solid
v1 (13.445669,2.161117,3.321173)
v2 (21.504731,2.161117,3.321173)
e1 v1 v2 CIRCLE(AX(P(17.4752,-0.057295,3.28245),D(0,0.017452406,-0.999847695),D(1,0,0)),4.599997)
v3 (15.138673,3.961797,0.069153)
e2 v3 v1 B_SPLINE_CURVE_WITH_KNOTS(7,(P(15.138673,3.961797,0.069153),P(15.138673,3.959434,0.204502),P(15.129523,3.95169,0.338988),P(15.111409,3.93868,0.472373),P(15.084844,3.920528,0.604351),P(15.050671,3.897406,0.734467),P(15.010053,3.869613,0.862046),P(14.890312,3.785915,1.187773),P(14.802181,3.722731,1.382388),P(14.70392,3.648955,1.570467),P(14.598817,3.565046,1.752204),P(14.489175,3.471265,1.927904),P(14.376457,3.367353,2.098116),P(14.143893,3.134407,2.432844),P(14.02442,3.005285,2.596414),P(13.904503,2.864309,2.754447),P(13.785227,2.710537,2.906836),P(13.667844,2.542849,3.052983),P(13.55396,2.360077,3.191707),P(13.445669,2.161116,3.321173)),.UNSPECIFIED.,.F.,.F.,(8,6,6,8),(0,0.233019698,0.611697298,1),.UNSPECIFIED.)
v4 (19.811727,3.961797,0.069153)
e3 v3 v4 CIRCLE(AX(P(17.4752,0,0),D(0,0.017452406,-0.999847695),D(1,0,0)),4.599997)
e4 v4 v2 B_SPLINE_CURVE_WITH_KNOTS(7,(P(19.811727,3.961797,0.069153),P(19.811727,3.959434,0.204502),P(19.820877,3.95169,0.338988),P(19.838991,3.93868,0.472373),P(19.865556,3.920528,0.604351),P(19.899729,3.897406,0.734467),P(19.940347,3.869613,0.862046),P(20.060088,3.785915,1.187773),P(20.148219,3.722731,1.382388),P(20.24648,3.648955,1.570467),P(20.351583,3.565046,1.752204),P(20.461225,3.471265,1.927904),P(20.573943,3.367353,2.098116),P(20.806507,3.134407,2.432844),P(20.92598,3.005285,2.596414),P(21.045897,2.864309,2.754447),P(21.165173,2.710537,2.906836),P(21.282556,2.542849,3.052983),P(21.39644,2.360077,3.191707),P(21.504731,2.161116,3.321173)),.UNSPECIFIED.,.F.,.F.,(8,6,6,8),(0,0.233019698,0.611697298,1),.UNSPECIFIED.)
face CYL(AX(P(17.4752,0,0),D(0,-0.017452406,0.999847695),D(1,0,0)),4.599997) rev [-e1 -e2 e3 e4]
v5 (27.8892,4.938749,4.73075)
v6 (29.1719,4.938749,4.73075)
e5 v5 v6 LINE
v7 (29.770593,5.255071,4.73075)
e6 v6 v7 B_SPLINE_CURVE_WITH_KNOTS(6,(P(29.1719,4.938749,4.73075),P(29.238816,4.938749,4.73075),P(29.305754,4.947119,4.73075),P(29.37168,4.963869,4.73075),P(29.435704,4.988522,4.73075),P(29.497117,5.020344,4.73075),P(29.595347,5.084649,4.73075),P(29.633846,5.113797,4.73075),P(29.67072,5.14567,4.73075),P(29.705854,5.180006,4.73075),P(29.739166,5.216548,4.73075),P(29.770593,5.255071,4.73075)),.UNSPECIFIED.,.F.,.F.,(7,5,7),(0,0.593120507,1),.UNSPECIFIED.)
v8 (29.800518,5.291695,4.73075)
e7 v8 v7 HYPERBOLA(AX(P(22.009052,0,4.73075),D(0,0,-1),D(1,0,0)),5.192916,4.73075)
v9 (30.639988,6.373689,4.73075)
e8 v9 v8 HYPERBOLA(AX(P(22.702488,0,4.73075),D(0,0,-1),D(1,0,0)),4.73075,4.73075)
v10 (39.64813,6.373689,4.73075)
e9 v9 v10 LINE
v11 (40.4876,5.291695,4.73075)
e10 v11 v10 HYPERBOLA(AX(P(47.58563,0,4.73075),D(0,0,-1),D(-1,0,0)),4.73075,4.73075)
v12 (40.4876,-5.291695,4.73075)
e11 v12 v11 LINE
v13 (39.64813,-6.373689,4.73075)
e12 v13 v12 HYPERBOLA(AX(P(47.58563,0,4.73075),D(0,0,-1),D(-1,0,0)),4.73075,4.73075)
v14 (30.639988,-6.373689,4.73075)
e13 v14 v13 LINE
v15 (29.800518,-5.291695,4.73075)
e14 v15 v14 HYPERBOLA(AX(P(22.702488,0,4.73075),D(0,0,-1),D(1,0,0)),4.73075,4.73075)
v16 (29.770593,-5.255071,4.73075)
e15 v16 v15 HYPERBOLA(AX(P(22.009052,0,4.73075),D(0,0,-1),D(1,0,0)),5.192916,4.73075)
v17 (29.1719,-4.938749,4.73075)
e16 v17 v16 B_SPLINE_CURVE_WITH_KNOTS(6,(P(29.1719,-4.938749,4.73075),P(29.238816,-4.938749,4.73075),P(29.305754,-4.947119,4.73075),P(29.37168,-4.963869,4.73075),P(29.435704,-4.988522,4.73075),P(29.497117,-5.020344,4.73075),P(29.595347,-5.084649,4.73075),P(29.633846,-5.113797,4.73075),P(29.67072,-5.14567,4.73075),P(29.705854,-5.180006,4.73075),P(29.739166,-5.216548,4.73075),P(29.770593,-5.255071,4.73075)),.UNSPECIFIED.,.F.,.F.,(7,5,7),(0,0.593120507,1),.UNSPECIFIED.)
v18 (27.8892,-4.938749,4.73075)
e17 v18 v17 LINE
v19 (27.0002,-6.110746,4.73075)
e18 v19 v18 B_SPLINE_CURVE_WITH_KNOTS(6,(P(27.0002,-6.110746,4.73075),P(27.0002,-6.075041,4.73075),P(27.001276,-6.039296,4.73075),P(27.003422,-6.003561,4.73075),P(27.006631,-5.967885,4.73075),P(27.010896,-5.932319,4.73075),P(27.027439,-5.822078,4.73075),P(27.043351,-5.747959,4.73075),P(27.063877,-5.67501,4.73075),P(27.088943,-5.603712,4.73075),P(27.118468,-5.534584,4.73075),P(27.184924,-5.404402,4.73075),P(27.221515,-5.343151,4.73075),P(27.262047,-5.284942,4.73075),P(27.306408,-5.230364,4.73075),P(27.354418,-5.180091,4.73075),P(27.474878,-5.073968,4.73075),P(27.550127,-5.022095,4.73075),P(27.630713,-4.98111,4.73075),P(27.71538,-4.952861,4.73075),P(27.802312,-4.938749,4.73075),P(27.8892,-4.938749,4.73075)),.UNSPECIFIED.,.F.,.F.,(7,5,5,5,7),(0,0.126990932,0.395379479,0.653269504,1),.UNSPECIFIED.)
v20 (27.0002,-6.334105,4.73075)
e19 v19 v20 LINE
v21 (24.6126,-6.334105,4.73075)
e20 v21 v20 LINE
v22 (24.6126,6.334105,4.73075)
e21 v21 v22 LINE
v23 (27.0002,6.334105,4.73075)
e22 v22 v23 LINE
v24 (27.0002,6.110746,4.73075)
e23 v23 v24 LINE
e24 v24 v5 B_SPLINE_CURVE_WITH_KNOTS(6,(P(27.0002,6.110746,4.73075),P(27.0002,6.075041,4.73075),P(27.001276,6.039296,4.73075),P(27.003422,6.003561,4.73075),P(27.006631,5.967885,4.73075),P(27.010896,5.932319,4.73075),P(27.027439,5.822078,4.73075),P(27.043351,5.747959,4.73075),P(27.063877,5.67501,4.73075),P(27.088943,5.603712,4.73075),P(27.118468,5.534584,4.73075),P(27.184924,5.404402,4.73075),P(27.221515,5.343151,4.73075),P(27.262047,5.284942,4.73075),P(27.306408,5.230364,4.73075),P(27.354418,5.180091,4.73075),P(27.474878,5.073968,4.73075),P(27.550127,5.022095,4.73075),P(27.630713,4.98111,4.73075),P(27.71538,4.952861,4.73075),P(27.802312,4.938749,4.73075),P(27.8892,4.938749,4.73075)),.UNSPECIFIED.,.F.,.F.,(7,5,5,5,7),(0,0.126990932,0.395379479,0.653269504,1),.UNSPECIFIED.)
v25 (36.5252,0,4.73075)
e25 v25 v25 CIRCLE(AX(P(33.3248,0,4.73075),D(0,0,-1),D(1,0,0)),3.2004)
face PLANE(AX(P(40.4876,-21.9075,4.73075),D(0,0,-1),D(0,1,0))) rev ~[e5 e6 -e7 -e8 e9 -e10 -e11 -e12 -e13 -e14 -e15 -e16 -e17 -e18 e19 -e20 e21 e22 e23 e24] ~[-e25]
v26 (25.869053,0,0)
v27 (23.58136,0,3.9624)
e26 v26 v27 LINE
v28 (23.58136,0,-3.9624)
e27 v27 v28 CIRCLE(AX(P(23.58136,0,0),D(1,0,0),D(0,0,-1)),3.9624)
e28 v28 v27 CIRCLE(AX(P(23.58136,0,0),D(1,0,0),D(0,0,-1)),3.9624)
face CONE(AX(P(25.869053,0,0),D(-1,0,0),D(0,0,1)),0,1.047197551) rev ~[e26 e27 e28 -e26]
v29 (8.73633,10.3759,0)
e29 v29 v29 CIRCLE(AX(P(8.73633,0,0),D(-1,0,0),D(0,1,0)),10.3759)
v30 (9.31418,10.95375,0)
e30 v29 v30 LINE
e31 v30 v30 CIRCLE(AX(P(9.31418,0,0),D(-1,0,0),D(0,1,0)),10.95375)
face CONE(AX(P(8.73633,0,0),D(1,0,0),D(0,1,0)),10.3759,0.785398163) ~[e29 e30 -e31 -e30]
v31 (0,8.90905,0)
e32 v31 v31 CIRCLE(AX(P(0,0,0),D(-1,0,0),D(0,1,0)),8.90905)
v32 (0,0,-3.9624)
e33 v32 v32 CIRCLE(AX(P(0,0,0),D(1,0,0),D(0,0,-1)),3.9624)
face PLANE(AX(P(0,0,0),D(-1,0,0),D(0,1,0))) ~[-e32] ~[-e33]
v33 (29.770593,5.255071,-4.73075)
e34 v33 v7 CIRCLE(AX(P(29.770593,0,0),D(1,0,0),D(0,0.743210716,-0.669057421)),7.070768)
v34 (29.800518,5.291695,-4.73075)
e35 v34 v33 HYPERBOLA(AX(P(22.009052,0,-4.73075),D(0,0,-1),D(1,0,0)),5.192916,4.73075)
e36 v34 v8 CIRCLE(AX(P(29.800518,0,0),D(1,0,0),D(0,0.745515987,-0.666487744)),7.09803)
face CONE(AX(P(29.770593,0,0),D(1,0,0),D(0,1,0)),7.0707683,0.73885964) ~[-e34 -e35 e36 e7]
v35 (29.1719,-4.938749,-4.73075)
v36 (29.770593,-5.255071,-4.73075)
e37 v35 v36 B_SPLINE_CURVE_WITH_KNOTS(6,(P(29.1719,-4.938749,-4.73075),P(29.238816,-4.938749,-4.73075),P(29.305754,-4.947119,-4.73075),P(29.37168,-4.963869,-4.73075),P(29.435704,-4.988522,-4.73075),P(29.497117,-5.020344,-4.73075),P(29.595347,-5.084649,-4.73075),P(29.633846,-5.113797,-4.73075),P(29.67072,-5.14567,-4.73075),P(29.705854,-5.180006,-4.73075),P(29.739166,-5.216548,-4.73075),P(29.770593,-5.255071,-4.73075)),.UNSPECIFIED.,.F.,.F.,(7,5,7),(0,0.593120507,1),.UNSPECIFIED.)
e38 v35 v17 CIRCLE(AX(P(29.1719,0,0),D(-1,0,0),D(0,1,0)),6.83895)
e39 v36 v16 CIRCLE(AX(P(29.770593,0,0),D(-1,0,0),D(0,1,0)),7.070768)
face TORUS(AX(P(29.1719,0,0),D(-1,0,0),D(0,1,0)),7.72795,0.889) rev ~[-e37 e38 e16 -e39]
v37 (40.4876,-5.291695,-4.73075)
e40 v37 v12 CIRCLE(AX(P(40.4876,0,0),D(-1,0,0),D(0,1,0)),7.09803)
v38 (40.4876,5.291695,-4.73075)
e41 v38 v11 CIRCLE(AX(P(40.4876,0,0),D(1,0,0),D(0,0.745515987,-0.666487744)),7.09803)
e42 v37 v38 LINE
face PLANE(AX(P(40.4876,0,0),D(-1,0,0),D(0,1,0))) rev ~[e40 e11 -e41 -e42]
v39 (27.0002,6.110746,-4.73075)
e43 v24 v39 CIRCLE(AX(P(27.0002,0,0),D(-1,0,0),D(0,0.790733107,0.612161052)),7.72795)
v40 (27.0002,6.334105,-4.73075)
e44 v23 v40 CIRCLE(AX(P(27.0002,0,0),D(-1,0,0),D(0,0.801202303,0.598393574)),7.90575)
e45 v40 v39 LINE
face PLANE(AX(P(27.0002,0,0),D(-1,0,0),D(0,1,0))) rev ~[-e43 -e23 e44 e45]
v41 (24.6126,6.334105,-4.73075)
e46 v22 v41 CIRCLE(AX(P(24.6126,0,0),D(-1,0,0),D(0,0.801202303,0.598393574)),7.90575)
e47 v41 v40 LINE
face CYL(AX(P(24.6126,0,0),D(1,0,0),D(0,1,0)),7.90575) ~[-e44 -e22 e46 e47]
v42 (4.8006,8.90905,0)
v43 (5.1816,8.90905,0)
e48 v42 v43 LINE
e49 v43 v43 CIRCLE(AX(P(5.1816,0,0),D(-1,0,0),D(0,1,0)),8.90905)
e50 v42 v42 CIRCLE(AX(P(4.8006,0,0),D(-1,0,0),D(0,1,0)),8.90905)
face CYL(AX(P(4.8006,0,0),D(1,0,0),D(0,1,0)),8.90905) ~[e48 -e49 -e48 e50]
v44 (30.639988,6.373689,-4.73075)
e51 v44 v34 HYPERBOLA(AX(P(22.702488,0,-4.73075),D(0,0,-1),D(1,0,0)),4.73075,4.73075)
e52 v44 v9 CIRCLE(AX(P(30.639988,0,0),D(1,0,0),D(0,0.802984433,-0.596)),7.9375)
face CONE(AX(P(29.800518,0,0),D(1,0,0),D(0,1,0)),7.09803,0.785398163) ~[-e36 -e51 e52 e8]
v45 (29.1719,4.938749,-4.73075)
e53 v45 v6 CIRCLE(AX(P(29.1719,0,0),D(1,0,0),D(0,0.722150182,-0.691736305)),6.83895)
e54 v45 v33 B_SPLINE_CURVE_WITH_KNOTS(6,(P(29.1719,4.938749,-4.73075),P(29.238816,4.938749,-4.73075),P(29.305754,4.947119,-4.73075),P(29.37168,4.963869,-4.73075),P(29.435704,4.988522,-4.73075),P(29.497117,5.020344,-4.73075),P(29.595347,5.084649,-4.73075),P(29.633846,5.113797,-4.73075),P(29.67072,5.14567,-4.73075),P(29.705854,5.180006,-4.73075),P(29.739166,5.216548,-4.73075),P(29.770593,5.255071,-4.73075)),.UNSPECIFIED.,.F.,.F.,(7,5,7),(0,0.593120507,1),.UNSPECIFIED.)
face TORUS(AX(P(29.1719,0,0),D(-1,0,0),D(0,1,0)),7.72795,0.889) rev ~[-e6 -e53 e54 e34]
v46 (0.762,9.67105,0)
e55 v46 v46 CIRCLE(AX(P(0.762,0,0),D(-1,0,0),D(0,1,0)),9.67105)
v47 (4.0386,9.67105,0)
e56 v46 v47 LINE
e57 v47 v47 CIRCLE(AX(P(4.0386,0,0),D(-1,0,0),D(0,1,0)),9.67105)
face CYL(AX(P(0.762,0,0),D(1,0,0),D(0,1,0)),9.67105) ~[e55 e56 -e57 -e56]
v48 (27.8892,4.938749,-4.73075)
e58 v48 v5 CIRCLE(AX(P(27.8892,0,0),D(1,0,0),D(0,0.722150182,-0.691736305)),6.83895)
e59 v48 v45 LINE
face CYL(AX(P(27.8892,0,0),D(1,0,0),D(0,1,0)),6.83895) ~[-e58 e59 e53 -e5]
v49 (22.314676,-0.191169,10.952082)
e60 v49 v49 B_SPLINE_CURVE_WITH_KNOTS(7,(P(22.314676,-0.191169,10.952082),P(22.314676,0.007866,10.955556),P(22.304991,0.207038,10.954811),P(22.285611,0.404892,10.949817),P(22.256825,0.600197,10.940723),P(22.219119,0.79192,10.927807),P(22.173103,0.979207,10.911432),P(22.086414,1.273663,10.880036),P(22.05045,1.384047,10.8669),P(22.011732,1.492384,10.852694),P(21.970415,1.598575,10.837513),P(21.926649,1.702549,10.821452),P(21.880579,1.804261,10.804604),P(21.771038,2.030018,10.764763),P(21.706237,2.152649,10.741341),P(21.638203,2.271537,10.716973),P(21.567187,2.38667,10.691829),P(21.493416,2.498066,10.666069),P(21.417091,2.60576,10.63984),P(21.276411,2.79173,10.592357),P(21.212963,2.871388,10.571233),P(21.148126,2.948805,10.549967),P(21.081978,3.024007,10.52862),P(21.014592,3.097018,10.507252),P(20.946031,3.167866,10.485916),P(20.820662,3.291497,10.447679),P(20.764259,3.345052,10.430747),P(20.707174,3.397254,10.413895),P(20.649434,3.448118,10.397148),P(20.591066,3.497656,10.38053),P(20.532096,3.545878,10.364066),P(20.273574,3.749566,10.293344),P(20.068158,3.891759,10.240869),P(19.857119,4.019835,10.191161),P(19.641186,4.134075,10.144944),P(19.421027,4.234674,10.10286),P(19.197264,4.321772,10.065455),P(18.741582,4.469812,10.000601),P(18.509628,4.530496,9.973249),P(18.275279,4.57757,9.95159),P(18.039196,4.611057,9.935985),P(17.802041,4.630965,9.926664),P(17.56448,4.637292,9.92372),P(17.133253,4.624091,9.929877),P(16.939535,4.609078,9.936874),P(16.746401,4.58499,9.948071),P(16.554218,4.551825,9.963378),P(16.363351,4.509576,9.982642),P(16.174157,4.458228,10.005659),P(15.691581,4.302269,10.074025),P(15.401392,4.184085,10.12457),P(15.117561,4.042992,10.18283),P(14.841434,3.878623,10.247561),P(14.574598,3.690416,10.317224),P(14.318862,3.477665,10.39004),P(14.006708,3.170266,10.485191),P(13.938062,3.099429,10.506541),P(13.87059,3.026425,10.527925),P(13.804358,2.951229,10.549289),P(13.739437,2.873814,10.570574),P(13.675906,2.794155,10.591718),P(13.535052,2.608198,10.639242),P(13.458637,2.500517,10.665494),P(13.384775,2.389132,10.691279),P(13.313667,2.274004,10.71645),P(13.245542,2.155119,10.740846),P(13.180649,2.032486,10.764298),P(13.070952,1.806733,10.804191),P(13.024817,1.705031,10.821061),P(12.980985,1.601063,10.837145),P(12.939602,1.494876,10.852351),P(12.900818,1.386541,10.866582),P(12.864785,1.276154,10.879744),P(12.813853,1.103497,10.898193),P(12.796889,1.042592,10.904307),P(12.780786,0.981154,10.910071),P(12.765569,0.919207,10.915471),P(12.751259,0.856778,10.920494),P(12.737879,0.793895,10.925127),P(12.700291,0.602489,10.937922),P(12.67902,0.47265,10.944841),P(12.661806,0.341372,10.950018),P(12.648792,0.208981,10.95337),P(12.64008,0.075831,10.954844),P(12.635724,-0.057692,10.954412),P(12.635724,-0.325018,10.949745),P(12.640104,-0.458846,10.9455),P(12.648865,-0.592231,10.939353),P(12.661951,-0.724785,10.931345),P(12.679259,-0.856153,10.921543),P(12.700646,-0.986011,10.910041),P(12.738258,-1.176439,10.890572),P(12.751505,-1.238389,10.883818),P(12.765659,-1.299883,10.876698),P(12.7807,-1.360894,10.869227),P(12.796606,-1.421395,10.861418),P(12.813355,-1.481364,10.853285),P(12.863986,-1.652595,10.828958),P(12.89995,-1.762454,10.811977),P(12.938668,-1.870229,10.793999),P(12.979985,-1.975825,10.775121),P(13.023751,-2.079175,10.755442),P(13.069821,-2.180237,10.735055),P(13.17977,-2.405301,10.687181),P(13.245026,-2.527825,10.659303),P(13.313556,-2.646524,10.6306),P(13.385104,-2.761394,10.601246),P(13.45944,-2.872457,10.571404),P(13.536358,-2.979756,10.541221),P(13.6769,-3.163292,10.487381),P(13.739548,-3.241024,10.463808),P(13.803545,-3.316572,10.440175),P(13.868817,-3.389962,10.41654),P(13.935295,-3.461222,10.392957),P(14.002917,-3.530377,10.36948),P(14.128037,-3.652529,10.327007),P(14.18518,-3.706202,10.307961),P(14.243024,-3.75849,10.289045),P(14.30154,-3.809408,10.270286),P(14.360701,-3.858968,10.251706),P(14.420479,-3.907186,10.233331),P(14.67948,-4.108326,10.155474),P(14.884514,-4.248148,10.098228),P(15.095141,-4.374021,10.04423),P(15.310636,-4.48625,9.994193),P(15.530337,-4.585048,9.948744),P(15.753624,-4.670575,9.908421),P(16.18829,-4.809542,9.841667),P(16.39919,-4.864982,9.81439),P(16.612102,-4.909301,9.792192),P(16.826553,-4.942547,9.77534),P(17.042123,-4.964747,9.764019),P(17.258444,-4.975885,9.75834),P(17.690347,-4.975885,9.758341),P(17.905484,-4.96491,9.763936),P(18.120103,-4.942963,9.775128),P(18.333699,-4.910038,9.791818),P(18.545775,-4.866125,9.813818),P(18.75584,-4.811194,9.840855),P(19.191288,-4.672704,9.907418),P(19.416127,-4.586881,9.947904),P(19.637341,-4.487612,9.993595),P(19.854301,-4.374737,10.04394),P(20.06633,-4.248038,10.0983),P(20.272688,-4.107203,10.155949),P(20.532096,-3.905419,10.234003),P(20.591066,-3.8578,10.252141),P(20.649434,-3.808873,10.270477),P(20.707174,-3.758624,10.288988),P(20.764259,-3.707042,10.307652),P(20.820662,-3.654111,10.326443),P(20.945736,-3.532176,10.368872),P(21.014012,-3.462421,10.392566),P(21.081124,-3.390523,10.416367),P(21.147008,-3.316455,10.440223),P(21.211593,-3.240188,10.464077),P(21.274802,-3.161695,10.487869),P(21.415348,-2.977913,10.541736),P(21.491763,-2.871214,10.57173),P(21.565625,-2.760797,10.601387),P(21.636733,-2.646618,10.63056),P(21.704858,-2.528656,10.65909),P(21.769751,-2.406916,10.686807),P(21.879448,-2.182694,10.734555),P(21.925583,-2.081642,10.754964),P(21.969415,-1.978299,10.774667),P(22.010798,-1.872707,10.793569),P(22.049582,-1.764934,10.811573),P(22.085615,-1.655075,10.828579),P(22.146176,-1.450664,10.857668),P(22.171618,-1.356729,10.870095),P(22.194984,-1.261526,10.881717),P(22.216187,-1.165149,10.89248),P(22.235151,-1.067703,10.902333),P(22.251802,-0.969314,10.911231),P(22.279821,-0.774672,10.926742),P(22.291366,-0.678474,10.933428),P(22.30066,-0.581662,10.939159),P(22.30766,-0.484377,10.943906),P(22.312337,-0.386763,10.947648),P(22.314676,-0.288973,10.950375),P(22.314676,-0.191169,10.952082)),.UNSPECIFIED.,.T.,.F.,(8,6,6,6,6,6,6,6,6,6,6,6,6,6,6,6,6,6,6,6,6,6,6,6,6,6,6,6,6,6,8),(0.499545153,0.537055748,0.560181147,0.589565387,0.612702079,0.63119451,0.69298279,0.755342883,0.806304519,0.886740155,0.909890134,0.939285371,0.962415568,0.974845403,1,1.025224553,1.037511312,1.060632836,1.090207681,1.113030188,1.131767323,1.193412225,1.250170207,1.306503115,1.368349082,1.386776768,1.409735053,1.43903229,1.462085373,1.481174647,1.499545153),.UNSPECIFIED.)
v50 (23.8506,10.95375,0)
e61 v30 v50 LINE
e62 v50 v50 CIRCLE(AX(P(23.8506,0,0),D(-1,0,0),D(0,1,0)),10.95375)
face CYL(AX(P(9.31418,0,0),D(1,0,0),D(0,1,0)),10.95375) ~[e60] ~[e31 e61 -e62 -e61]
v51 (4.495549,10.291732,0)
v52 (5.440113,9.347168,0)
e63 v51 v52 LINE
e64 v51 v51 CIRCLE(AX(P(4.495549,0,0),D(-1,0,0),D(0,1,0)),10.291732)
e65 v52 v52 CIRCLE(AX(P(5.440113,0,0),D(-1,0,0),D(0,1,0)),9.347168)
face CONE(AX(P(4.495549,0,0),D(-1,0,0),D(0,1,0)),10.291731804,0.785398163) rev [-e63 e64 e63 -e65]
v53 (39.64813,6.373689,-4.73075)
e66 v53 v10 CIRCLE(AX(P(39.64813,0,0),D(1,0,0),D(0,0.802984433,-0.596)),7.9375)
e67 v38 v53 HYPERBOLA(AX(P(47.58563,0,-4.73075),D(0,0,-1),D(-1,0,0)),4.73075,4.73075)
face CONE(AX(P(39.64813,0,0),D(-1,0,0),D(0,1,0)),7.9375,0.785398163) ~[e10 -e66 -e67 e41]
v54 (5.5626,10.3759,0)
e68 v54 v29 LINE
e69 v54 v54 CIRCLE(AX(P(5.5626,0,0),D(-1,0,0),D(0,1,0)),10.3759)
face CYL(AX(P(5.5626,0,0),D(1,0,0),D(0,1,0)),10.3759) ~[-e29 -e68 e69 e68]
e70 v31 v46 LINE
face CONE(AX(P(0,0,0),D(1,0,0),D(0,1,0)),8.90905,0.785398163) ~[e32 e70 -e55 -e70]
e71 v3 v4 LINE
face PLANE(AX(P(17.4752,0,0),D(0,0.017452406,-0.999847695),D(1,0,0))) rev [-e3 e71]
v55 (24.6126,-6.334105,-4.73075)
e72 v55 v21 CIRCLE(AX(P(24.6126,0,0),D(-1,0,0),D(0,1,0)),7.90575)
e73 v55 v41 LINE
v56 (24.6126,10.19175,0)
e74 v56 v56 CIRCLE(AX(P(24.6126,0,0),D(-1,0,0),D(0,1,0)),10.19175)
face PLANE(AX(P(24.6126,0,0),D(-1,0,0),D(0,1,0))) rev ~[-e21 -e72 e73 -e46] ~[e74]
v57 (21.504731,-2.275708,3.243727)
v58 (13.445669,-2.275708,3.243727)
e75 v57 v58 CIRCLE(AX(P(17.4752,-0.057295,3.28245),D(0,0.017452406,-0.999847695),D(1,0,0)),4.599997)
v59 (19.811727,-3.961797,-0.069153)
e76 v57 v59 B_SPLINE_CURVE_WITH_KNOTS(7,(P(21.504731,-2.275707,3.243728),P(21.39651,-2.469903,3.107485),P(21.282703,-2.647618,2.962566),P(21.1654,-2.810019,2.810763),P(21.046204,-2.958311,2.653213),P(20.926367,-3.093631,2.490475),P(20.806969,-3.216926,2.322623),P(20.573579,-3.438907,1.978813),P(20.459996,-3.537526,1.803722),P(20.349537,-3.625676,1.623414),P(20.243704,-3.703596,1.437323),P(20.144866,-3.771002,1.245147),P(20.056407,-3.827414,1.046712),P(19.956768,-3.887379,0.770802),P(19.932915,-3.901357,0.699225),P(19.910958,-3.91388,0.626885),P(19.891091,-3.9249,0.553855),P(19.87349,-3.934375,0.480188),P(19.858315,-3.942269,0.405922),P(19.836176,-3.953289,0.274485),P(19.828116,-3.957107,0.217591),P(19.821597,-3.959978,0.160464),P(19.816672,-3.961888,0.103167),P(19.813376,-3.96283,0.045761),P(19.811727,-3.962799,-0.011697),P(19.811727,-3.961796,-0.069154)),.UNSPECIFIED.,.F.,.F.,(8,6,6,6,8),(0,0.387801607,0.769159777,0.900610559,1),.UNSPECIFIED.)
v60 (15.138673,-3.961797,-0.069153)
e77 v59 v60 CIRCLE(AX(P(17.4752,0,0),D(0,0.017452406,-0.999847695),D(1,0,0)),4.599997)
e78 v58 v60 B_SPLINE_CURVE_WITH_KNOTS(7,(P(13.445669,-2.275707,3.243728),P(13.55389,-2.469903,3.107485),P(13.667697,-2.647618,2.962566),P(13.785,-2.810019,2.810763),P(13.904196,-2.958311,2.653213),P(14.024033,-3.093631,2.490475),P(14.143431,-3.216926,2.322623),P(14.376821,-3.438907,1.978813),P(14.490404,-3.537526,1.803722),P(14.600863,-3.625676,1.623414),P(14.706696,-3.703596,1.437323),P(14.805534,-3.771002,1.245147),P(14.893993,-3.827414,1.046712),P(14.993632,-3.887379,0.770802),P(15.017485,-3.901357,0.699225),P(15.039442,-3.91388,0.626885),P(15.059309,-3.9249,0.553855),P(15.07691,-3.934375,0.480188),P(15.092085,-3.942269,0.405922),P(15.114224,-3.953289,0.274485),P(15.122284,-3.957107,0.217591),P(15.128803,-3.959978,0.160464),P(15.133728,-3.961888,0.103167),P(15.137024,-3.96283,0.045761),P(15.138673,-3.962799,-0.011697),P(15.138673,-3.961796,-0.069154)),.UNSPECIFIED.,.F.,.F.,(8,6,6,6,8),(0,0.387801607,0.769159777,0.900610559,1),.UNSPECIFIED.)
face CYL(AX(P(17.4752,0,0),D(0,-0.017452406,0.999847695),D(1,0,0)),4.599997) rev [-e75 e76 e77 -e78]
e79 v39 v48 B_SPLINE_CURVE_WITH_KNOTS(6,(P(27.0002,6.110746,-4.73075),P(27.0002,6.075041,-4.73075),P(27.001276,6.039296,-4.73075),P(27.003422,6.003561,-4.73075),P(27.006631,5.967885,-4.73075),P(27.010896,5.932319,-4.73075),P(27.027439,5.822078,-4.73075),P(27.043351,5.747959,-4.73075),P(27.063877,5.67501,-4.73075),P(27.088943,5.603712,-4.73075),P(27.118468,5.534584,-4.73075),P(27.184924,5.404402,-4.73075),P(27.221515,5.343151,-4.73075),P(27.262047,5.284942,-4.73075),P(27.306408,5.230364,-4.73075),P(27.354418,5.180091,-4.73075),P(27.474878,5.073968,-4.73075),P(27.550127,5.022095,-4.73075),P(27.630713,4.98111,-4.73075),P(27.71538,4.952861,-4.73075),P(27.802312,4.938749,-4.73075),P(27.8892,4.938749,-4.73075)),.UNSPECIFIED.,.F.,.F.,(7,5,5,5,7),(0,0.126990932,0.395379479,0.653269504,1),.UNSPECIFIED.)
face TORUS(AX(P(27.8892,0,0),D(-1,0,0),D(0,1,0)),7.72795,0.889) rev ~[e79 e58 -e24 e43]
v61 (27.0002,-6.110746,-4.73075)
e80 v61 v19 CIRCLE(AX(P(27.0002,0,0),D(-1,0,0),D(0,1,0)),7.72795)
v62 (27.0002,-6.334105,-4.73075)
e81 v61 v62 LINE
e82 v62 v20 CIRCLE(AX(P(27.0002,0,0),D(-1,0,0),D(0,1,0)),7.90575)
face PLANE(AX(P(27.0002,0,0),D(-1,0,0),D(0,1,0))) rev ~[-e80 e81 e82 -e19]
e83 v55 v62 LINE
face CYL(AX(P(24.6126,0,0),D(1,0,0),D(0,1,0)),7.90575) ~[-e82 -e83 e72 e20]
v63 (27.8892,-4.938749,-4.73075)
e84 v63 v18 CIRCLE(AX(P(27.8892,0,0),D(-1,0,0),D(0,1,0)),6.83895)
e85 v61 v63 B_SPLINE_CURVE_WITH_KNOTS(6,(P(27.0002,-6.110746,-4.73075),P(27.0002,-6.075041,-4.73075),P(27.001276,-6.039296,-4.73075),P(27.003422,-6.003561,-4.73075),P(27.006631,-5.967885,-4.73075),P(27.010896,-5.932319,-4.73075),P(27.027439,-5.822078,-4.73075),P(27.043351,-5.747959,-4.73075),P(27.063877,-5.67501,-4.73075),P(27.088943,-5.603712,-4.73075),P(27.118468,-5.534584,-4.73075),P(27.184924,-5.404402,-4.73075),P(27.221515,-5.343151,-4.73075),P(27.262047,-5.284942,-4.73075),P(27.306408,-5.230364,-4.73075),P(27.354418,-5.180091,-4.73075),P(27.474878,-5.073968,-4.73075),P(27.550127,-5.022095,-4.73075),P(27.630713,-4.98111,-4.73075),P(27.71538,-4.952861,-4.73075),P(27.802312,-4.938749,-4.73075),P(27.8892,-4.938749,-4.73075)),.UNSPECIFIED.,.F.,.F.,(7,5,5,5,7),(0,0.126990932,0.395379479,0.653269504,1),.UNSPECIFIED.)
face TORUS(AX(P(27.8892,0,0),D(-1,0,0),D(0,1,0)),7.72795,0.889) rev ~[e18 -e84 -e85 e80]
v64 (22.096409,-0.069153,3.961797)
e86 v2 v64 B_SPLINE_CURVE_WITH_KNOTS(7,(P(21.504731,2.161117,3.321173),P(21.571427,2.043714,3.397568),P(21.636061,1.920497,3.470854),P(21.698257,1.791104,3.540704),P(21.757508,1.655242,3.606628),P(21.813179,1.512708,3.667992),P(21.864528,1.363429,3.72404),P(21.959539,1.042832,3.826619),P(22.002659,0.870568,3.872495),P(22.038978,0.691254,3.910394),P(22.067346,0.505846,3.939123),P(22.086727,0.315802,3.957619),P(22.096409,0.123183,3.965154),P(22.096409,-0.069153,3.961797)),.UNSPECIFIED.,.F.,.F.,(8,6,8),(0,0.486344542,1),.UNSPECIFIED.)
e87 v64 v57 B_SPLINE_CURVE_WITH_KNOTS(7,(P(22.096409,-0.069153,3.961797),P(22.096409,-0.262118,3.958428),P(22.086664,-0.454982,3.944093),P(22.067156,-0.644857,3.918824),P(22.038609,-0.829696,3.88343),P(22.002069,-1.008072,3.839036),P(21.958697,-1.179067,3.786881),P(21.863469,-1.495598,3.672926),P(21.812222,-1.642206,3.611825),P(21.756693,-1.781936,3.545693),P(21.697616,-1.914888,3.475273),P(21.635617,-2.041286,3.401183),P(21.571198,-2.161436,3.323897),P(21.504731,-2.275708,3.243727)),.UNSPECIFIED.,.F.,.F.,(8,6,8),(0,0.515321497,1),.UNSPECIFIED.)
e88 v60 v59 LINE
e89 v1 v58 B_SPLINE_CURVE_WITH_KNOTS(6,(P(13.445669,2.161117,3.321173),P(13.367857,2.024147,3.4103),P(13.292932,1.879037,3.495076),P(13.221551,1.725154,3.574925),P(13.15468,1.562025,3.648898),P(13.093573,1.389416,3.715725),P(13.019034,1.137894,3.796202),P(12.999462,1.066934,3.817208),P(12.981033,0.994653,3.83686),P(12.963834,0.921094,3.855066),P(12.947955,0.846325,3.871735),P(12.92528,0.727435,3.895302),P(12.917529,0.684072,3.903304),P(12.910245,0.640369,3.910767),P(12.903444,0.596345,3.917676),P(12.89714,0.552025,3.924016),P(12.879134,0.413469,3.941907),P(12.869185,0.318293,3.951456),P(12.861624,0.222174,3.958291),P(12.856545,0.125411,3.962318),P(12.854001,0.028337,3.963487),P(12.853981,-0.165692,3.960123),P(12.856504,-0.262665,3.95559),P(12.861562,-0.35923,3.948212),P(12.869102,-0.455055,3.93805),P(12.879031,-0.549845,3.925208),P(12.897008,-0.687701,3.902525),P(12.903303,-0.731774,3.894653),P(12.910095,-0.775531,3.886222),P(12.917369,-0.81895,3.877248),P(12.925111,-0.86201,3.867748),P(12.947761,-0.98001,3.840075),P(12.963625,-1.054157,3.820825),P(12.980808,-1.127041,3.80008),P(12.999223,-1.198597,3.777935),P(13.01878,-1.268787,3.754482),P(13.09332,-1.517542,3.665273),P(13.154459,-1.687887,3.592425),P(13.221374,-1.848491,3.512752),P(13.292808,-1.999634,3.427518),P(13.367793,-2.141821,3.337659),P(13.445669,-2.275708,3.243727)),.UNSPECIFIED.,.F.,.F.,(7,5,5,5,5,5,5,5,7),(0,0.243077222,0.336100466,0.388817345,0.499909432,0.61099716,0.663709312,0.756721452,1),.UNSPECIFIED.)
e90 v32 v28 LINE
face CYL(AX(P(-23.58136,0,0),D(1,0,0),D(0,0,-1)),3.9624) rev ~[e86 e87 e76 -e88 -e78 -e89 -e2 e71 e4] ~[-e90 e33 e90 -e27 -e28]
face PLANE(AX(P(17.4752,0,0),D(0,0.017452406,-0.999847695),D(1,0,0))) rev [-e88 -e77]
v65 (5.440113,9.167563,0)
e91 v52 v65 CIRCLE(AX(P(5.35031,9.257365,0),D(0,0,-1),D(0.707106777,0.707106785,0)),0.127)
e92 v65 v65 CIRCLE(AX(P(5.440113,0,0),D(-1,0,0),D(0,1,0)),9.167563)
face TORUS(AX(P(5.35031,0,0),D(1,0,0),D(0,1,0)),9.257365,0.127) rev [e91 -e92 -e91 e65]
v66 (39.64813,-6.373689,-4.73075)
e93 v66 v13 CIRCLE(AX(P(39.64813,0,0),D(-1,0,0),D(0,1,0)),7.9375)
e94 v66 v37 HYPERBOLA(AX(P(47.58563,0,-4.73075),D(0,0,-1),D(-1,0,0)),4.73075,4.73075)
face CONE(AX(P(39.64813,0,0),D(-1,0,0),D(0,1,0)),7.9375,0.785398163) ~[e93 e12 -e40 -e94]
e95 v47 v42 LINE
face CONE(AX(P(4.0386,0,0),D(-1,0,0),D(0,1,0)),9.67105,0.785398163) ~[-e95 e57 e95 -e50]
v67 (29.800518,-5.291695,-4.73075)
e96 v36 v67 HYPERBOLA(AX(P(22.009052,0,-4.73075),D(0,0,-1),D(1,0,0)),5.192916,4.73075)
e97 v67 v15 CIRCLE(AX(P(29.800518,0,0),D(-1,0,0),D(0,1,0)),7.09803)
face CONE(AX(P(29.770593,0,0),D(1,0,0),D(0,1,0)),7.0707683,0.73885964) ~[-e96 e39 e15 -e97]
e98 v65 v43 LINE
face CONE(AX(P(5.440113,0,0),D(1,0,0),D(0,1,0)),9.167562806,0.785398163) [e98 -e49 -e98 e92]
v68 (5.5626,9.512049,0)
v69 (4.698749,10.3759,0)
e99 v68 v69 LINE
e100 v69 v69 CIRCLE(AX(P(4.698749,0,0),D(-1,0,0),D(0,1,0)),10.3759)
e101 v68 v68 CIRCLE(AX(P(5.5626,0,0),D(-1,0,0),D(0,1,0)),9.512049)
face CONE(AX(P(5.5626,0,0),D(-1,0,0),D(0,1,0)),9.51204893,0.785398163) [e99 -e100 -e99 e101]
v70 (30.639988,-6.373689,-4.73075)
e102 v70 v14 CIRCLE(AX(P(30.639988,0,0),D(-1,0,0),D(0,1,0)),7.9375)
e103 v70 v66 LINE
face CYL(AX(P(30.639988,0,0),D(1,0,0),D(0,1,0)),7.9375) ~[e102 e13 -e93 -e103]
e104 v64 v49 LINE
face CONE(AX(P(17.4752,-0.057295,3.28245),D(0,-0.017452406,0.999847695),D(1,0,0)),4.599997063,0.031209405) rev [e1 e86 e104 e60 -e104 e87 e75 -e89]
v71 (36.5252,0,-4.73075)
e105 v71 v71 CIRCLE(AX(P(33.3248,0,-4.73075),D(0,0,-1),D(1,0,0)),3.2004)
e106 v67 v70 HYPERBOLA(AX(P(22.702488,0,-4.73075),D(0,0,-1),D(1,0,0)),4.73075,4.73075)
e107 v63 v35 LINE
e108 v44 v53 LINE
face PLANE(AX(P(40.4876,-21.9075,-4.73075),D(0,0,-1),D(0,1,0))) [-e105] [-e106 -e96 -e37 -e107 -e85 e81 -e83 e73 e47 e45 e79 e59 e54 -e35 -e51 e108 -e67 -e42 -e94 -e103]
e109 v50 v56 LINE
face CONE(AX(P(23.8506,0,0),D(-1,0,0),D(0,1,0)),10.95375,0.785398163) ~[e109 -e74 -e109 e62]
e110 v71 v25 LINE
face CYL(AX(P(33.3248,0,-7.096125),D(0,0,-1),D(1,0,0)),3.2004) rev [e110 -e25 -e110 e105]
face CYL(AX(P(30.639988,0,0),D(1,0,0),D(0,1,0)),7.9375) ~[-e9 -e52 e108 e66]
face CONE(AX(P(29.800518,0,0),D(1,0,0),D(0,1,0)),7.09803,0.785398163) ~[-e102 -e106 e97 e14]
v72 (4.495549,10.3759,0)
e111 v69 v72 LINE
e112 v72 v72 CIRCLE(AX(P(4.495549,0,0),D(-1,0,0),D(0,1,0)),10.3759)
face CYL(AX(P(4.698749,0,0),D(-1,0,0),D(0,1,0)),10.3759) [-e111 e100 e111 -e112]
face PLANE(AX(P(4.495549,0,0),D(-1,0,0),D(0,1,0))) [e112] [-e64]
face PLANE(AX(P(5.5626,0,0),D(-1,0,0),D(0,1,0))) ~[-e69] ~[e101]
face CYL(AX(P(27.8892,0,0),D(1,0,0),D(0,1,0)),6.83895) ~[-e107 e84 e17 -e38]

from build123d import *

# Parameters (mm, degrees)
SKETCH3_W               = 43.815
SKETCH3_H               = 87.63
SKETCH3_W_2             = 9.4615
SKETCH3_H_2             = 43.815
CUT_EXTRUDE1_DEPTH      = 15.875
HOLE1_D                 = 7.9248
HOLE1_DEPTH             = 23.58136
HOLE1_TIP               = 2.287692707
CUT_EXTRUDE2_DEPTH      = 7.096125
CUT_EXTRUDE2_DEPTH_BACK = 7.096125
SKETCH8_R               = 3.2004


with BuildPart() as part:
    # Sketch1 → Revolve1 (revolve)
    with BuildSketch(Plane.XY):
        Polygon((0, 0), (0, 8.90905), (0.762, 9.67105), (4.0386, 9.67105), (4.8006, 8.90905), (5.5626, 8.90905), (5.5626, 10.3759), (8.73633, 10.3759), (9.31418, 10.95375), (23.8506, 10.95375), (24.6126, 10.19175), (24.6126, 0), align=None)
    revolve(axis=Axis((24.6126, 0, 0), (-1, 0, 0)))

    # Sketch2 → Revolve2 (revolve)
    with BuildSketch(Plane.XY):
        with BuildLine():
            Line((24.6126, 0), (24.6126, 7.90575))
            Line((24.6126, 7.90575), (27.0002, 7.90575))
            Line((27.0002, 7.90575), (27.0002, 7.72795))
            ThreePointArc((27.0002, 7.72795), (27.260582072, 7.099332072), (27.8892, 6.83895))
            Line((27.8892, 6.83895), (29.1719, 6.83895))
            ThreePointArc((29.1719, 6.83895), (29.49290348, 6.898927826), (29.77059292, 7.0707683))
            Line((29.77059292, 7.0707683), (29.800517928, 7.09803))
            Line((29.800517928, 7.09803), (30.639987928, 7.9375))
            Line((30.639987928, 7.9375), (39.64813, 7.9375))
            Line((39.64813, 7.9375), (40.4876, 7.09803))
            Line((40.4876, 7.09803), (40.4876, 0))
            Line((40.4876, 0), (24.6126, 0))
        make_face()
    revolve(axis=Axis((40.4876, 0, 0), (-1, 0, 0)))

    # Sketch3 → Cut-Extrude1 (cut)
    with BuildSketch(Plane(origin=(40.4876, 0, 0), x_dir=(0, 0, -1), z_dir=(1, 0, 0))):
        Rectangle(SKETCH3_W, SKETCH3_H)
        Rectangle(SKETCH3_W_2, SKETCH3_H_2, mode=Mode.SUBTRACT)
    extrude(amount=-CUT_EXTRUDE1_DEPTH, mode=Mode.SUBTRACT)

    # Hole1
    with Locations(Plane.ZY):
        with Locations((0, 0)):
            Hole(HOLE1_D / 2, depth=HOLE1_DEPTH)
            with Locations((0, 0, -(HOLE1_DEPTH + HOLE1_TIP / 2))):  # 120° drill point
                Cone(0, HOLE1_D / 2, HOLE1_TIP, mode=Mode.SUBTRACT)

    # Sketch6 → Cut-Revolve1 (revolve, cut)
    with BuildSketch(Plane(origin=(0, 0, 0), x_dir=(1, 0, 0), z_dir=(0, 0.9998476951563913, 0.01745240643728403))):
        Polygon((17.4752, 0), (22.075197063, 0), (22.075197063, -3.28295), (22.314675925, -10.95375), (17.4752, -10.95375), align=None)
    revolve(axis=Axis((17.4752, -0.191169297, 10.952081691), (0, 0.01745240643728403, -0.9998476951563913)), mode=Mode.SUBTRACT)

    # Sketch7 → Revolve3 (revolve)
    with BuildSketch(Plane.XY):
        with BuildLine():
            Line((4.49554893, 10.291731804), (5.440112806, 9.347167928))
            ThreePointArc((5.440112806, 9.347167928), (5.477310245, 9.257365367), (5.440112806, 9.167562806))
            Line((5.440112806, 9.167562806), (5.1816, 8.90905))
            Line((5.1816, 8.90905), (4.8006, 8.90905))
            Line((4.8006, 8.90905), (4.8006, 8.65505))
            Line((4.8006, 8.65505), (5.5626, 8.65505))
            Line((5.5626, 8.65505), (5.5626, 9.51204893))
            Line((5.5626, 9.51204893), (4.69874893, 10.3759))
            Line((4.69874893, 10.3759), (4.49554893, 10.3759))
            Line((4.49554893, 10.3759), (4.49554893, 10.291731804))
        make_face()
    revolve(axis=Axis((5.5626, 0, 0), (-1, 0, 0)))

    # Sketch8 → Cut-Extrude2 (cut, two sides: drawn at the far end of the back side and taken through both)
    with BuildSketch(Plane.XY.offset(-CUT_EXTRUDE2_DEPTH_BACK)):
        with Locations((33.3248, 0)):
            Circle(SKETCH8_R)
    extrude(amount=CUT_EXTRUDE2_DEPTH + CUT_EXTRUDE2_DEPTH_BACK, mode=Mode.SUBTRACT)


solid = part.part
